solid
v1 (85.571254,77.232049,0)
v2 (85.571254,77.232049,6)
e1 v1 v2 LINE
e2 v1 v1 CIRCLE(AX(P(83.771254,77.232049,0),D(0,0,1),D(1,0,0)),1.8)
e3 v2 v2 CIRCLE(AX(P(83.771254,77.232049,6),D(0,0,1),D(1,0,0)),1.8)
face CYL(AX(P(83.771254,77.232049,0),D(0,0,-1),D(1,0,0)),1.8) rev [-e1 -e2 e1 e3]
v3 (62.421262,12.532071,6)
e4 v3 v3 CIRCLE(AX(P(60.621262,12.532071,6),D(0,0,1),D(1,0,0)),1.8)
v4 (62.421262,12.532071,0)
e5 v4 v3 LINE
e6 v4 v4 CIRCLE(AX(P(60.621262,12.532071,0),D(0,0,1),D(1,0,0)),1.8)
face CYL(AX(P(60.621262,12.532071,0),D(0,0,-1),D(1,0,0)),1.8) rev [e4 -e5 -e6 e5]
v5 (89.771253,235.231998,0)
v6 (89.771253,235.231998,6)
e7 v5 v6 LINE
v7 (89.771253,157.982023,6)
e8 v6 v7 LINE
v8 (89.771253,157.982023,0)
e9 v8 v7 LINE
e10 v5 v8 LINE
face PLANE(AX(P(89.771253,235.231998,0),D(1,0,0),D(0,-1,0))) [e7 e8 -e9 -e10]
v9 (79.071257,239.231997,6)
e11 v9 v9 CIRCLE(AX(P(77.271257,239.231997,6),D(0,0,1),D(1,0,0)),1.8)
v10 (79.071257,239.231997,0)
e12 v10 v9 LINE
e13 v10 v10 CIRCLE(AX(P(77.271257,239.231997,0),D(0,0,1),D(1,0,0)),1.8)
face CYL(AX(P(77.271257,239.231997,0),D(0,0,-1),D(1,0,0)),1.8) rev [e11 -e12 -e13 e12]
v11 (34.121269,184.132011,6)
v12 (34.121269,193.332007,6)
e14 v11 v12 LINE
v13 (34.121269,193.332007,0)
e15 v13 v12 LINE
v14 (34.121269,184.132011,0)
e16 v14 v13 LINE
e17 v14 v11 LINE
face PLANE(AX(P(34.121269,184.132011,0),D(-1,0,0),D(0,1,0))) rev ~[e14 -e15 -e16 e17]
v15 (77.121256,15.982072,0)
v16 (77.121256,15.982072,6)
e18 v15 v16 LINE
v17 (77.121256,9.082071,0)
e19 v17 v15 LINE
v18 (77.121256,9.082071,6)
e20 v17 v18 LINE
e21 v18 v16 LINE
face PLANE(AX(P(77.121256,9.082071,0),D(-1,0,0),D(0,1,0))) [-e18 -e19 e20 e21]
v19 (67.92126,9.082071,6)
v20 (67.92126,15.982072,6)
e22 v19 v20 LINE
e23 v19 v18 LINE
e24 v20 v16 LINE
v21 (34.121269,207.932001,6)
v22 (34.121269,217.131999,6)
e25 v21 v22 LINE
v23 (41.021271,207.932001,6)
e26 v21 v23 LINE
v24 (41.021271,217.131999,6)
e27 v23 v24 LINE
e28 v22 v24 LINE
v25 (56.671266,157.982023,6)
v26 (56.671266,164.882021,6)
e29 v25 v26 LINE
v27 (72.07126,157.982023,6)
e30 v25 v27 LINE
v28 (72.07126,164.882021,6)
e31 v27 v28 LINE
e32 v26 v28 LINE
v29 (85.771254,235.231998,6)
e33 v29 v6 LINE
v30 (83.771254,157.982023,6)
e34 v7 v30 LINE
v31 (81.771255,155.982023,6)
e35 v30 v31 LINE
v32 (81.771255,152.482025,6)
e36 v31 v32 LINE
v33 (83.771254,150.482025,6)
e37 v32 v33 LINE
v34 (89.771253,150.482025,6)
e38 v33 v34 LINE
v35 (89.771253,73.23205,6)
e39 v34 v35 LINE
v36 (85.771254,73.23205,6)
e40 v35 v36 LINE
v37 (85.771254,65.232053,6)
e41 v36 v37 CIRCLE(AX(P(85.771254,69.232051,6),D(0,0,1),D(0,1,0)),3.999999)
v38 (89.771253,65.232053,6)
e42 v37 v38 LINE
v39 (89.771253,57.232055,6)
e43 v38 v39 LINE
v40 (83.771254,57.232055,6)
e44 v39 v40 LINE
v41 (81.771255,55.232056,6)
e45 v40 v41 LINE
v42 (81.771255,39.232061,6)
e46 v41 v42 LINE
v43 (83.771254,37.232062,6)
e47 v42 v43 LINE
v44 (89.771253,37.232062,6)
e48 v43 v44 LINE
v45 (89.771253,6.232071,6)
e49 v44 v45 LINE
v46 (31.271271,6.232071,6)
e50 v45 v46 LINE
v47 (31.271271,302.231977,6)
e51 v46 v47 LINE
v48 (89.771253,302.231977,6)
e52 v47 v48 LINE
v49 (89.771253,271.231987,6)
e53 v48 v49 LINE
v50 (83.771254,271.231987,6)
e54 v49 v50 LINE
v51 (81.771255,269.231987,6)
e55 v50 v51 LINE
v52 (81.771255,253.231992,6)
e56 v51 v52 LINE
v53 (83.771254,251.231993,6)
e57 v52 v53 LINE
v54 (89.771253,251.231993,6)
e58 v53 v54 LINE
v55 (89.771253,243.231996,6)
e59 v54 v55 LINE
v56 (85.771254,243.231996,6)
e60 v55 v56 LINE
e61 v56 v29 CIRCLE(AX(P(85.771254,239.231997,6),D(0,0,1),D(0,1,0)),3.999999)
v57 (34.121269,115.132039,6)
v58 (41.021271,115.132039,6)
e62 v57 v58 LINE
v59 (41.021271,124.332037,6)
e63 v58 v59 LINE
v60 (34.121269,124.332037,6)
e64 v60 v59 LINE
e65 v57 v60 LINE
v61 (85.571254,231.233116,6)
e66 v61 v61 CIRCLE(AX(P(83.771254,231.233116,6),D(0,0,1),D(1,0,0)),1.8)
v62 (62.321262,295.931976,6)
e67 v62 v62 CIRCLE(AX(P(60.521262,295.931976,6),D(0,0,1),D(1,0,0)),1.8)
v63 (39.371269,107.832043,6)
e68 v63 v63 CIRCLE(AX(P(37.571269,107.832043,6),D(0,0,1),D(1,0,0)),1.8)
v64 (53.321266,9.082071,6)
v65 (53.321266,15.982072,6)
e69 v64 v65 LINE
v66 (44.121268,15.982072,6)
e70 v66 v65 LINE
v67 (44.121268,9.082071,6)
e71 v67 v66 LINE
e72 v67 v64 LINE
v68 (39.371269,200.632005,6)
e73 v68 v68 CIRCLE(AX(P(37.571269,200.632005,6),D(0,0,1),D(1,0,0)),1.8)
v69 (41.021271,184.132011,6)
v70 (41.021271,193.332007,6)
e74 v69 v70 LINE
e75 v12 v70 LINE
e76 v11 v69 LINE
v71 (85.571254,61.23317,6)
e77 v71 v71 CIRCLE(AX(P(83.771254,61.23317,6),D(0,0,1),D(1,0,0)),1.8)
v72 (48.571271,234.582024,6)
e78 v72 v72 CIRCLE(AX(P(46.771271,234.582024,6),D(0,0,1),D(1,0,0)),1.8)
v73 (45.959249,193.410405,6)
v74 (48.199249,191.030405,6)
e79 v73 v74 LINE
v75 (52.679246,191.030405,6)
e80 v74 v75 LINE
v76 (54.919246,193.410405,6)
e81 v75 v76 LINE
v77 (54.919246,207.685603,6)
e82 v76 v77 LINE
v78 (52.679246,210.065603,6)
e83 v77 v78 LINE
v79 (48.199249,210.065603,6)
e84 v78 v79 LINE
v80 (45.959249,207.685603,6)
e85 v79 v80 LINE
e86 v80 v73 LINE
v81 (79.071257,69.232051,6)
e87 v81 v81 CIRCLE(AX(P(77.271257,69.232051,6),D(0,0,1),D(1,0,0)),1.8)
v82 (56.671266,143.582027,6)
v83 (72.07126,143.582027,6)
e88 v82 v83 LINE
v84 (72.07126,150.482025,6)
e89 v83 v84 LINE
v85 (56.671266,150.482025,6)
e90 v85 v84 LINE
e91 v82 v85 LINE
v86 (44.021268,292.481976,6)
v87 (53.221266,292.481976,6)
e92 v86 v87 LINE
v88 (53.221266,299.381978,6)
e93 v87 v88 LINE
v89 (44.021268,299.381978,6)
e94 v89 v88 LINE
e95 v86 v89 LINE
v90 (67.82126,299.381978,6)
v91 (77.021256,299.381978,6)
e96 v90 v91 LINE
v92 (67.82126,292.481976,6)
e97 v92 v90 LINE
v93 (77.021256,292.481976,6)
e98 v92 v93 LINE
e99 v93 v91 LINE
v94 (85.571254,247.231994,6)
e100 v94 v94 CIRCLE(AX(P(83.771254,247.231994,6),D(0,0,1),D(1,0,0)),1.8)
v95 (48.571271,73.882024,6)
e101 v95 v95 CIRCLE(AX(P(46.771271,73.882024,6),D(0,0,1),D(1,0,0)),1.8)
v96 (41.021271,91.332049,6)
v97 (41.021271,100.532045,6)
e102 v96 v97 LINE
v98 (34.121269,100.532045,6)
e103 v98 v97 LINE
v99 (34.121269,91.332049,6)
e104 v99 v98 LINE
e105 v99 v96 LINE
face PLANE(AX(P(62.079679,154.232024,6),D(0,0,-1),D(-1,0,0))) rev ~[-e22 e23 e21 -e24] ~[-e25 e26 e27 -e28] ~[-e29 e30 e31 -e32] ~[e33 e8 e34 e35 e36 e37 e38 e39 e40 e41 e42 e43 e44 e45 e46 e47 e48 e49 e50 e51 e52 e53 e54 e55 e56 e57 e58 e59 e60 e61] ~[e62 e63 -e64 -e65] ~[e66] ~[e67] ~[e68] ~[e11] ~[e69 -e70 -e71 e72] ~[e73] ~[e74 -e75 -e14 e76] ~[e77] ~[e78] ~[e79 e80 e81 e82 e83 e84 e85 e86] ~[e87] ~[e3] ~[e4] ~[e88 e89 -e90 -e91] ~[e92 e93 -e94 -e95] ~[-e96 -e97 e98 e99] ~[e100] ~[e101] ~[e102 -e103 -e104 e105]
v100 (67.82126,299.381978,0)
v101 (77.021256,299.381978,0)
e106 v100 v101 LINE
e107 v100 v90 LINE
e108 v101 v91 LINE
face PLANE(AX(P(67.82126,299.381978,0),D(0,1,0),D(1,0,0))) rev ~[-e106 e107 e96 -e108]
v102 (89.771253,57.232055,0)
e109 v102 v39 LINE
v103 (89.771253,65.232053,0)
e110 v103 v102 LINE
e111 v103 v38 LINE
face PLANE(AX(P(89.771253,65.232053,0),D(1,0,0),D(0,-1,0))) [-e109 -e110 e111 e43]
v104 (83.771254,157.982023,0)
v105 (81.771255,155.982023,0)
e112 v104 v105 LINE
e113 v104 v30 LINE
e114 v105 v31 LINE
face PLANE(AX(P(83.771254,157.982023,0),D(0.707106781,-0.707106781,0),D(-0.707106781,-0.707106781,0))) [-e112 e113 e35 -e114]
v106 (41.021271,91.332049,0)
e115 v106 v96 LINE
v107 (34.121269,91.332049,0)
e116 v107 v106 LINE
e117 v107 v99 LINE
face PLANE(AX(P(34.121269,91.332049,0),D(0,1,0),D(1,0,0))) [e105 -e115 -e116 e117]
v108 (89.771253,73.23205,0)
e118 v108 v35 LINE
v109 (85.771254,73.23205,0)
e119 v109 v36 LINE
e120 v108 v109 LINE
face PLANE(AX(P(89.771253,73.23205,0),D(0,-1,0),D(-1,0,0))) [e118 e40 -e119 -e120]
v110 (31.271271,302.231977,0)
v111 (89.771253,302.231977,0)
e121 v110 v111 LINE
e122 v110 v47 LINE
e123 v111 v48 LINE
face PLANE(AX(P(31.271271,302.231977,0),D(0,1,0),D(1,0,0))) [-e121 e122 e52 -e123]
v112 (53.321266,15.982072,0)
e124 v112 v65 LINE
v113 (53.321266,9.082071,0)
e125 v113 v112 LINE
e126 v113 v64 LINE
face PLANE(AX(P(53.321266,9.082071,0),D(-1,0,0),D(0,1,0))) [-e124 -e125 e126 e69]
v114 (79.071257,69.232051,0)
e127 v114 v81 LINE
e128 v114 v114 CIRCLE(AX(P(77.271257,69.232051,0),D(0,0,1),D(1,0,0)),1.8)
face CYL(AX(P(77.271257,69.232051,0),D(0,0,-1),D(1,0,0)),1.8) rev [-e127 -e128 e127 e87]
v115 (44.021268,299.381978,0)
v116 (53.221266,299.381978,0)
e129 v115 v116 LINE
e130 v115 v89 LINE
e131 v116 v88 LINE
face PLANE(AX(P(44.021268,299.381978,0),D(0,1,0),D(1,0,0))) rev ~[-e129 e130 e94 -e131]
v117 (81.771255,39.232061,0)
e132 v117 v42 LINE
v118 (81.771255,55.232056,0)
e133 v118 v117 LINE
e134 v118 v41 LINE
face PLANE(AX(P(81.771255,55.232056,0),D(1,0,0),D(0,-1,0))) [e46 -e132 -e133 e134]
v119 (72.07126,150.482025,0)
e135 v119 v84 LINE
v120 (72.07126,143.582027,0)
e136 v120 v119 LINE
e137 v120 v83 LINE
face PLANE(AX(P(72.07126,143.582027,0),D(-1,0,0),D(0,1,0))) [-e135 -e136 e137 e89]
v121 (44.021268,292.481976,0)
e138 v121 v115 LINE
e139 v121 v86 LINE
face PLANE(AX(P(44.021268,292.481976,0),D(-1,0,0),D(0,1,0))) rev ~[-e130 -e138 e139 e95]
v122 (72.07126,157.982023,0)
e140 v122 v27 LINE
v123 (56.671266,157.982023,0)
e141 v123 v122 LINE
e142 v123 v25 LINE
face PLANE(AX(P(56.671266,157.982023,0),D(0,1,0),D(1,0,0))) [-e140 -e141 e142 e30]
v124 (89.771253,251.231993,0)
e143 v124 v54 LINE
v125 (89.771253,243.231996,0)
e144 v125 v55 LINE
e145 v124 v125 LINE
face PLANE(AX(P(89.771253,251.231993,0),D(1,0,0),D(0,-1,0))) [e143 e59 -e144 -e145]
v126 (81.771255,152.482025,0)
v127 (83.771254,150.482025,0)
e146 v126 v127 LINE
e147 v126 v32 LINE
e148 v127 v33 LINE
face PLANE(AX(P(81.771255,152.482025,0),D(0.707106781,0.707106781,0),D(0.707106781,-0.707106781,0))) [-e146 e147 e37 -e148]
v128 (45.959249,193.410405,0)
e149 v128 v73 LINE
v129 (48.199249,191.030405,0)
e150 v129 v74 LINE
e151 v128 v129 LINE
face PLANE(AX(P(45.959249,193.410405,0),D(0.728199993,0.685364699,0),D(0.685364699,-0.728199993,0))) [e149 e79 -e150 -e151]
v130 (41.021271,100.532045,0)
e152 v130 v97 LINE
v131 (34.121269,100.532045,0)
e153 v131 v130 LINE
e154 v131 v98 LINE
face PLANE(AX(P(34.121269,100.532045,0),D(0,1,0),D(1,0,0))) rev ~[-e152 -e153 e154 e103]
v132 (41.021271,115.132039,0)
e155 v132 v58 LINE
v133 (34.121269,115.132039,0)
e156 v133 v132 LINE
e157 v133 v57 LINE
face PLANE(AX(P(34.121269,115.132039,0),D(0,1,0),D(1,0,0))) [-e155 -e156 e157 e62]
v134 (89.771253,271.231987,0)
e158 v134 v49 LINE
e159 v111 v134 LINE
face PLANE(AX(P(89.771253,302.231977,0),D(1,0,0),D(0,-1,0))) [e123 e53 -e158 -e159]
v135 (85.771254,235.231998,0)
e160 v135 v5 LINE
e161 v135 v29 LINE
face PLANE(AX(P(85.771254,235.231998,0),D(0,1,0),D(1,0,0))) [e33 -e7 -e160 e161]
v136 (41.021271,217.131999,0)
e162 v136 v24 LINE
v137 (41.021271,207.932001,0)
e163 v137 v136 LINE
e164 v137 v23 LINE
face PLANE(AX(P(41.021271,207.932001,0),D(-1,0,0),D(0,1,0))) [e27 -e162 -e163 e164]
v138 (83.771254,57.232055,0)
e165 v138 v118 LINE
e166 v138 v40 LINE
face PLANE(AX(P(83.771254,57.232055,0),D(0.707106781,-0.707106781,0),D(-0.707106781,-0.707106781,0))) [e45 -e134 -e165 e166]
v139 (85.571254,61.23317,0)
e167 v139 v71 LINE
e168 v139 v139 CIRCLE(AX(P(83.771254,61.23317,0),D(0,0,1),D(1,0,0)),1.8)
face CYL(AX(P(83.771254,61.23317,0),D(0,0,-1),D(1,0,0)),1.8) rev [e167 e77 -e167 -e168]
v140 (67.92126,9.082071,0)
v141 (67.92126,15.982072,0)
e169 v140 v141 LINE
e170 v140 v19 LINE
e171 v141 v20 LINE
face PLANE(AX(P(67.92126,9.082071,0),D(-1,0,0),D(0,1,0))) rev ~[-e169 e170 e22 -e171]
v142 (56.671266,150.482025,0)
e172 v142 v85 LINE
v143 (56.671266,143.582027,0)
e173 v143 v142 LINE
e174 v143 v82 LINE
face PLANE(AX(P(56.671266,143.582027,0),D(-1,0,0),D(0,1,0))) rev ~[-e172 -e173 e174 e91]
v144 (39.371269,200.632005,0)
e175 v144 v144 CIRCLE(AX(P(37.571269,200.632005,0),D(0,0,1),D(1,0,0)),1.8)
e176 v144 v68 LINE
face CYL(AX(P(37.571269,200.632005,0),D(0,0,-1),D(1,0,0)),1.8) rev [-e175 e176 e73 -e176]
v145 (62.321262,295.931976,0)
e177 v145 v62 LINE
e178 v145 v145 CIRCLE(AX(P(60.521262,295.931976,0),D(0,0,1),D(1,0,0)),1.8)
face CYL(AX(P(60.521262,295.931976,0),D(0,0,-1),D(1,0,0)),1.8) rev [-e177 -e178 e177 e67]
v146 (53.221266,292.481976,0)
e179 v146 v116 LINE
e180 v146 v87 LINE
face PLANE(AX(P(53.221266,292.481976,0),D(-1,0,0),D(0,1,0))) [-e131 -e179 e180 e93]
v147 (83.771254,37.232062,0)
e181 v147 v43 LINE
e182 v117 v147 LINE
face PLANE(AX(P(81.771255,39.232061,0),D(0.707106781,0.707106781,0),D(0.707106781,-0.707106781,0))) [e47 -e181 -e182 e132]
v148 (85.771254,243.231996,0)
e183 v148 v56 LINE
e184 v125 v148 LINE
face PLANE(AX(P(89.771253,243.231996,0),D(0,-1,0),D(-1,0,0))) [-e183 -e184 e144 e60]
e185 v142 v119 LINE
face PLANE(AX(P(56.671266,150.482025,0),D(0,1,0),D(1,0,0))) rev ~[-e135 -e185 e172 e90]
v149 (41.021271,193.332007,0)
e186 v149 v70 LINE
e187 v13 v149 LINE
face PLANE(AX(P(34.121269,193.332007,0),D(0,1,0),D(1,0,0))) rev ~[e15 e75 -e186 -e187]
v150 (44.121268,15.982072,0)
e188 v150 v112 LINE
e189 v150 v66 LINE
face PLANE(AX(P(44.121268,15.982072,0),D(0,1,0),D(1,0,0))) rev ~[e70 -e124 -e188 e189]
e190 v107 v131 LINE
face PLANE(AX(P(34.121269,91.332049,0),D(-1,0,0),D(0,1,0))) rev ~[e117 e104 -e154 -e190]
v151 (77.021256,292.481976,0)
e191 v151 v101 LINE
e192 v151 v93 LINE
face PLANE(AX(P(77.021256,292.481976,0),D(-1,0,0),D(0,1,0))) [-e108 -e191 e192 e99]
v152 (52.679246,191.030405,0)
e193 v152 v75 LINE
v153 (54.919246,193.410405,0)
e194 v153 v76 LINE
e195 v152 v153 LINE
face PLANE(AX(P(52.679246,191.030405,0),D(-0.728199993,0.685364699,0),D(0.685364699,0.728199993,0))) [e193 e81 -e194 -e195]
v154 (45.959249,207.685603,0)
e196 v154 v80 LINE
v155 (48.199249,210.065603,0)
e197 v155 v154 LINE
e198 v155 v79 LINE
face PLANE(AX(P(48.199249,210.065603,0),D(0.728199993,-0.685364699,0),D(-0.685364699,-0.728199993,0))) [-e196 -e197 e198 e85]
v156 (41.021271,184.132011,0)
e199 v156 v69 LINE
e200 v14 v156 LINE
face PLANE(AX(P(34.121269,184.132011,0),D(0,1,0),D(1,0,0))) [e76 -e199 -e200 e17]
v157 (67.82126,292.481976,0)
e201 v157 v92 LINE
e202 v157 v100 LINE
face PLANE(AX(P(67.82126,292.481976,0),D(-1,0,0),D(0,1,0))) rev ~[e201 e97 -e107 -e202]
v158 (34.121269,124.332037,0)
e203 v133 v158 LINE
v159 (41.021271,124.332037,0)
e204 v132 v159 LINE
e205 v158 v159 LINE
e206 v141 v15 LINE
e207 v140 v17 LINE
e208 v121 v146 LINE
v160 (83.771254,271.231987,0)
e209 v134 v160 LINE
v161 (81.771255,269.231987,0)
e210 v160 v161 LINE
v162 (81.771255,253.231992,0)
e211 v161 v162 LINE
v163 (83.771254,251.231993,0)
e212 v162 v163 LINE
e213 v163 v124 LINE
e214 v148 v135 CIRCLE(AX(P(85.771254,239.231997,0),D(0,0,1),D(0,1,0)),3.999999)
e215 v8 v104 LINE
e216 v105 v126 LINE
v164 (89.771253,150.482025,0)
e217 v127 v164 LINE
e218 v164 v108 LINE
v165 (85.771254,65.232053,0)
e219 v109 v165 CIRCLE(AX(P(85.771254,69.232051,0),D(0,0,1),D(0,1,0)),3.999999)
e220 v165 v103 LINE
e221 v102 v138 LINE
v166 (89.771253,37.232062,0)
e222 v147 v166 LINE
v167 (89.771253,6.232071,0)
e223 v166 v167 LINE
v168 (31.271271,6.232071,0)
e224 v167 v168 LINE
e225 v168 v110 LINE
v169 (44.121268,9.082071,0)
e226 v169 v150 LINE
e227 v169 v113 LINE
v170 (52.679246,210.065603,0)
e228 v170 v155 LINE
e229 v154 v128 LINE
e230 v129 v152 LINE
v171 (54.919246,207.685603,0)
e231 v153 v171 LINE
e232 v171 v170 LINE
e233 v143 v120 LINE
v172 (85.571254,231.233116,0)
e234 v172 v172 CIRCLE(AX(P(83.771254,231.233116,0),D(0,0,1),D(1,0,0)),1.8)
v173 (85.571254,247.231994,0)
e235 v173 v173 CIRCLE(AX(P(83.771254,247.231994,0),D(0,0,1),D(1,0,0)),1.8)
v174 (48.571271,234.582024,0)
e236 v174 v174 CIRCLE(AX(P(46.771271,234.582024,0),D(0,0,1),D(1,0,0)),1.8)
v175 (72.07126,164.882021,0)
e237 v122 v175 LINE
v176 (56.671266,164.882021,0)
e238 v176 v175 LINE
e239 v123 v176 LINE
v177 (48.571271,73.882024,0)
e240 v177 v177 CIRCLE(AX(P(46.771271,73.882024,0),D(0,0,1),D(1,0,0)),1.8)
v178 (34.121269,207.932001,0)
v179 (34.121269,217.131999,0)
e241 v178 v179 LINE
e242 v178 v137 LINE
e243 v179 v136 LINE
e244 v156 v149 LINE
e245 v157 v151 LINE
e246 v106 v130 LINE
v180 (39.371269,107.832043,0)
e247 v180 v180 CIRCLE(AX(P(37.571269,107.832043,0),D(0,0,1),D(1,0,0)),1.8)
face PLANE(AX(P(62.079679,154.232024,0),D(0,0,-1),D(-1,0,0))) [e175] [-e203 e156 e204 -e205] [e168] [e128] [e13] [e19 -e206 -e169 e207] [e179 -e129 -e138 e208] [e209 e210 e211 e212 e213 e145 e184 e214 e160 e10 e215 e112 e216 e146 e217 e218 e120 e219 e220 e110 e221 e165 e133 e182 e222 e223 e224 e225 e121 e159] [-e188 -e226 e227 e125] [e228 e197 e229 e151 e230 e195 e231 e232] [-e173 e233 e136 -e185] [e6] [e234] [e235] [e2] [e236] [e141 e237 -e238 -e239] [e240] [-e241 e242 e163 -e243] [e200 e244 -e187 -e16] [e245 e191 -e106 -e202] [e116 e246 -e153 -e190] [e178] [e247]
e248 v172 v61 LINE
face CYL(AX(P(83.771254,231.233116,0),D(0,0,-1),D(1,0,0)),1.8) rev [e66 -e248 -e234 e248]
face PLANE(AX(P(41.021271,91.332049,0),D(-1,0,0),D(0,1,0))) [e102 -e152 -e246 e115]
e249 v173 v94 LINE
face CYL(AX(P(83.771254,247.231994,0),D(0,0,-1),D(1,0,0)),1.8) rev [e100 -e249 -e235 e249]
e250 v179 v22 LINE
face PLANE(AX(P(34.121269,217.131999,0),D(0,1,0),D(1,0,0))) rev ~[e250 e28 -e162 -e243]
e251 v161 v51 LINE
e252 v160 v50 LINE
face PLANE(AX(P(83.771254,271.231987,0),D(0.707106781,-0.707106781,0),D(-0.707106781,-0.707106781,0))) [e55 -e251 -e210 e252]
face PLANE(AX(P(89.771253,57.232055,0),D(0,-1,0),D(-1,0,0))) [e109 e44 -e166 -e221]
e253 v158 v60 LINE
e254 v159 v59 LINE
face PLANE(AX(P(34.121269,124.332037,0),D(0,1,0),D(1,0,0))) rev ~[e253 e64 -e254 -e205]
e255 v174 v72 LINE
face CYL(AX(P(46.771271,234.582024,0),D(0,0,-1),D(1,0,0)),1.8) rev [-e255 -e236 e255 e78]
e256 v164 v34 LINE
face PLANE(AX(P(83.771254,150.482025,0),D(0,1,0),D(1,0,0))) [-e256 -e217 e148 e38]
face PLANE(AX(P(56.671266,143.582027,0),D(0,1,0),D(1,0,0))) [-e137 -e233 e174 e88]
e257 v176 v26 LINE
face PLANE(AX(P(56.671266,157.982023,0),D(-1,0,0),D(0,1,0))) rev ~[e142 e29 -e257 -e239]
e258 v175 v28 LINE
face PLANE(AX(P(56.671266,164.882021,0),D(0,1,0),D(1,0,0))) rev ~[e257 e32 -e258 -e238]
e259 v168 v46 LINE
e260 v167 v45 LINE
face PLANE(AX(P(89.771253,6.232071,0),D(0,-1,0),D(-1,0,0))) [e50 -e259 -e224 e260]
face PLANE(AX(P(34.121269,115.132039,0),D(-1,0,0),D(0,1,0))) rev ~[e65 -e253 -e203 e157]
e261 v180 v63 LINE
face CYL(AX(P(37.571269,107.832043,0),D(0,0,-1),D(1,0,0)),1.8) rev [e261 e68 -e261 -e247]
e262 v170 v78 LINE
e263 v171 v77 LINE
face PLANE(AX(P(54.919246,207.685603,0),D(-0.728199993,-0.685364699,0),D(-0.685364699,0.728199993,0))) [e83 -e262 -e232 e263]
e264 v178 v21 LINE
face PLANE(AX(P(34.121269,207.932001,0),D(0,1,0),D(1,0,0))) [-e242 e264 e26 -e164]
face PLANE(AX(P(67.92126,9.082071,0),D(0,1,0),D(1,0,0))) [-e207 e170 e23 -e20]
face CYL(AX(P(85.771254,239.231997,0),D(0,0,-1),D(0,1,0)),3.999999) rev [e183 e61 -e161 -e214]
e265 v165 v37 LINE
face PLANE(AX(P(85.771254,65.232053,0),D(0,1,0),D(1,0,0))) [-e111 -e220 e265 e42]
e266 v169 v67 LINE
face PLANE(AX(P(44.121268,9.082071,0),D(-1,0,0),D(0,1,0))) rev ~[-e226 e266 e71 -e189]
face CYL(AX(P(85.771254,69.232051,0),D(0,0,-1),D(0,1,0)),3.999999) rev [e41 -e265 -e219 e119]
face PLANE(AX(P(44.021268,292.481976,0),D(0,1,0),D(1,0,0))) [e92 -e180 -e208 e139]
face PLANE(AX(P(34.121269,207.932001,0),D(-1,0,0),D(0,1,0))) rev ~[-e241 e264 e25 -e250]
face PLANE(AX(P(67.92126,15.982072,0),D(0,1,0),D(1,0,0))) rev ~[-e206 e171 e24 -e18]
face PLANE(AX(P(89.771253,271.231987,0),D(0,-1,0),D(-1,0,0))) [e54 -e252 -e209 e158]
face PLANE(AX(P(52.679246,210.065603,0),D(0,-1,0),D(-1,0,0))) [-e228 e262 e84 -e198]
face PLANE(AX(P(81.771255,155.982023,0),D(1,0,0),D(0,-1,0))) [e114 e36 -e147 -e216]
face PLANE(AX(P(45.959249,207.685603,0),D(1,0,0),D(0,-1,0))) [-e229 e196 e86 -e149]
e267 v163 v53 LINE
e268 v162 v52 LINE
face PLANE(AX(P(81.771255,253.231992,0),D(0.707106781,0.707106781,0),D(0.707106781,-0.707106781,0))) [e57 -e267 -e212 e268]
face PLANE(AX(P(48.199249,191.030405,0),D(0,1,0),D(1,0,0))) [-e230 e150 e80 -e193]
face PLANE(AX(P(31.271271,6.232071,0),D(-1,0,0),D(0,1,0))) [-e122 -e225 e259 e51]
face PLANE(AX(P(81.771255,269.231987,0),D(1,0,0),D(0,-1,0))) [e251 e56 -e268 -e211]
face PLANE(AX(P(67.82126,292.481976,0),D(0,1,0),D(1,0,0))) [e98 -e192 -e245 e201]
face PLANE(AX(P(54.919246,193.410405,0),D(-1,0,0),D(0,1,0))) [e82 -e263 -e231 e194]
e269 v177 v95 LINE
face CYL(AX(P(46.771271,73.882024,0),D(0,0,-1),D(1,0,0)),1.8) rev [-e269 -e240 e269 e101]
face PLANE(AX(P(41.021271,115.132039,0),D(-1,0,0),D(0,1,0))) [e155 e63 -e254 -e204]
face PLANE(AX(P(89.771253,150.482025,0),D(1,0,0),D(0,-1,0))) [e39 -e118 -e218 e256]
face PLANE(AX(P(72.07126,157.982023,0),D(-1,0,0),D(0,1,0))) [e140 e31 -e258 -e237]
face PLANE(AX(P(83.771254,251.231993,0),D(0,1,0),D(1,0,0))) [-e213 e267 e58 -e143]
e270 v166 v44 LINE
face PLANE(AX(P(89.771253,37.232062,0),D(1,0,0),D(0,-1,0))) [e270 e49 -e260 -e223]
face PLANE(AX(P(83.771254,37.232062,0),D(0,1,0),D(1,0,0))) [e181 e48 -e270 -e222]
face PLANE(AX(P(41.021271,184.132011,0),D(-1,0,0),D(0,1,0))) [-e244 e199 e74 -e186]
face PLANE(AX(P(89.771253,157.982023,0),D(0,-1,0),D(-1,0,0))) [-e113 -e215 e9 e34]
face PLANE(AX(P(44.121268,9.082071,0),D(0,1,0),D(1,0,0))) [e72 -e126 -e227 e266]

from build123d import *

# Parameters (mm, degrees)
MODEL_R                  = 1.8
MODEL_W                  = 9.199995837
MODEL_H                  = 6.900001917
MODEL_W_2                = 9.1999977
MODEL_W_3                = 15.39999384
MODEL_H_2                = 6.899997952
MODEL_W_4                = 6.900001918
MODEL_H_3                = 9.199995837
MODEL_H_4                = 9.1999977
MODEL_H_5                = 9.199997699
RESSALTO_EXTRUS_O1_DEPTH = 6


with BuildPart() as part:
    # Model → Ressalto-extrusão1 (new body)
    with BuildSketch(Plane.XY):
        with BuildLine():
            Line((89.771252514, 6.232071499), (31.271271234, 6.232071499))
            Line((31.271271234, 6.232071499), (31.271271234, 302.231976779))
            Line((31.271271234, 302.231976779), (89.771252514, 302.231976779))
            Line((89.771252514, 302.231976779), (89.771252514, 271.231986699))
            Line((89.771252514, 271.231986699), (83.771254434, 271.231986699))
            Line((83.771254434, 271.231986699), (81.771255074, 269.231987339))
            Line((81.771255074, 269.231987339), (81.771255074, 253.231992459))
            Line((81.771255074, 253.231992459), (83.771254434, 251.231993099))
            Line((83.771254434, 251.231993099), (89.771252514, 251.231993099))
            Line((89.771252514, 251.231993099), (89.771252514, 243.231995659))
            Line((89.771252514, 243.231995659), (85.771253794, 243.231995659))
            ThreePointArc((85.771253794, 243.231995659), (81.771255074, 239.231996939), (85.771253794, 235.231998219))
            Line((85.771253794, 235.231998219), (89.771252514, 235.231998219))
            Line((89.771252514, 235.231998219), (89.771252514, 157.982022859))
            Line((89.771252514, 157.982022859), (83.771254434, 157.982022859))
            Line((83.771254434, 157.982022859), (81.771255074, 155.982023499))
            Line((81.771255074, 155.982023499), (81.771255074, 152.482024779))
            Line((81.771255074, 152.482024779), (83.771254434, 150.482025419))
            Line((83.771254434, 150.482025419), (89.771252514, 150.482025419))
            Line((89.771252514, 150.482025419), (89.771252514, 73.232050059))
            Line((89.771252514, 73.232050059), (85.771253794, 73.232050059))
            ThreePointArc((85.771253794, 73.232050059), (81.771255074, 69.232051339), (85.771253794, 65.232052619))
            Line((85.771253794, 65.232052619), (89.771252514, 65.232052619))
            Line((89.771252514, 65.232052619), (89.771252514, 57.232055179))
            Line((89.771252514, 57.232055179), (83.771254434, 57.232055179))
            Line((83.771254434, 57.232055179), (81.771255074, 55.232055819))
            Line((81.771255074, 55.232055819), (81.771255074, 39.232060939))
            Line((81.771255074, 39.232060939), (83.771254434, 37.232061579))
            Line((83.771254434, 37.232061579), (89.771252514, 37.232061579))
            Line((89.771252514, 37.232061579), (89.771252514, 6.232071499))
        make_face()
        with Locations((60.621261842, 12.532070537)):
            Circle(MODEL_R, mode=Mode.SUBTRACT)
        with Locations((83.771254434, 61.233170309)):
            Circle(MODEL_R, mode=Mode.SUBTRACT)
        with Locations((77.271256514, 69.232051339)):
            Circle(MODEL_R, mode=Mode.SUBTRACT)
        with Locations((83.771254434, 77.232048779)):
            Circle(MODEL_R, mode=Mode.SUBTRACT)
        with Locations((46.771271234, 73.882024139)):
            Circle(MODEL_R, mode=Mode.SUBTRACT)
        with Locations((37.571269218, 107.832043016)):
            Circle(MODEL_R, mode=Mode.SUBTRACT)
        with Locations((37.571269218, 200.632005262)):
            Circle(MODEL_R, mode=Mode.SUBTRACT)
        with Locations((46.771271234, 234.582024139)):
            Circle(MODEL_R, mode=Mode.SUBTRACT)
        with Locations((83.771254434, 231.233115909)):
            Circle(MODEL_R, mode=Mode.SUBTRACT)
        with Locations((77.271256514, 239.231996939)):
            Circle(MODEL_R, mode=Mode.SUBTRACT)
        with Locations((83.771254434, 247.231994379)):
            Circle(MODEL_R, mode=Mode.SUBTRACT)
        with Locations((60.521261874, 295.931975819)):
            Circle(MODEL_R, mode=Mode.SUBTRACT)
        with Locations((72.521257893, 12.532071498)):
            Rectangle(MODEL_W, MODEL_H, mode=Mode.SUBTRACT)
        with Locations((48.621267095, 295.931976781)):
            Rectangle(MODEL_W_2, MODEL_H, mode=Mode.SUBTRACT)
        with Locations((64.371263002, 147.032026443)):
            Rectangle(MODEL_W_3, MODEL_H_2, mode=Mode.SUBTRACT)
        with Locations((37.571270179, 95.932046966)):
            Rectangle(MODEL_W_4, MODEL_H_3, mode=Mode.SUBTRACT)
        with Locations((72.421257924, 295.931976781)):
            Rectangle(MODEL_W, MODEL_H, mode=Mode.SUBTRACT)
        with Locations((37.571270179, 212.532000041)):
            Rectangle(MODEL_W_4, MODEL_H_4, mode=Mode.SUBTRACT)
        with Locations((37.571270179, 119.732037796)):
            Rectangle(MODEL_W_4, MODEL_H_5, mode=Mode.SUBTRACT)
        with Locations((48.721267063, 12.532071498)):
            Rectangle(MODEL_W_2, MODEL_H, mode=Mode.SUBTRACT)
        with Locations((37.571270179, 188.732009212)):
            Rectangle(MODEL_W_4, MODEL_H_3, mode=Mode.SUBTRACT)
        with Locations((64.371263002, 161.432021835)):
            Rectangle(MODEL_W_3, MODEL_H_2, mode=Mode.SUBTRACT)
        Polygon((54.919245732, 207.685602791), (52.679245732, 210.065602791), (48.199248599, 210.065602791), (45.959248599, 207.685602791), (45.959248599, 193.410404919), (48.199248599, 191.030404919), (52.679245732, 191.030404919), (54.919245732, 193.410404919), align=None, mode=Mode.SUBTRACT)
    extrude(amount=RESSALTO_EXTRUS_O1_DEPTH)


solid = part.part
